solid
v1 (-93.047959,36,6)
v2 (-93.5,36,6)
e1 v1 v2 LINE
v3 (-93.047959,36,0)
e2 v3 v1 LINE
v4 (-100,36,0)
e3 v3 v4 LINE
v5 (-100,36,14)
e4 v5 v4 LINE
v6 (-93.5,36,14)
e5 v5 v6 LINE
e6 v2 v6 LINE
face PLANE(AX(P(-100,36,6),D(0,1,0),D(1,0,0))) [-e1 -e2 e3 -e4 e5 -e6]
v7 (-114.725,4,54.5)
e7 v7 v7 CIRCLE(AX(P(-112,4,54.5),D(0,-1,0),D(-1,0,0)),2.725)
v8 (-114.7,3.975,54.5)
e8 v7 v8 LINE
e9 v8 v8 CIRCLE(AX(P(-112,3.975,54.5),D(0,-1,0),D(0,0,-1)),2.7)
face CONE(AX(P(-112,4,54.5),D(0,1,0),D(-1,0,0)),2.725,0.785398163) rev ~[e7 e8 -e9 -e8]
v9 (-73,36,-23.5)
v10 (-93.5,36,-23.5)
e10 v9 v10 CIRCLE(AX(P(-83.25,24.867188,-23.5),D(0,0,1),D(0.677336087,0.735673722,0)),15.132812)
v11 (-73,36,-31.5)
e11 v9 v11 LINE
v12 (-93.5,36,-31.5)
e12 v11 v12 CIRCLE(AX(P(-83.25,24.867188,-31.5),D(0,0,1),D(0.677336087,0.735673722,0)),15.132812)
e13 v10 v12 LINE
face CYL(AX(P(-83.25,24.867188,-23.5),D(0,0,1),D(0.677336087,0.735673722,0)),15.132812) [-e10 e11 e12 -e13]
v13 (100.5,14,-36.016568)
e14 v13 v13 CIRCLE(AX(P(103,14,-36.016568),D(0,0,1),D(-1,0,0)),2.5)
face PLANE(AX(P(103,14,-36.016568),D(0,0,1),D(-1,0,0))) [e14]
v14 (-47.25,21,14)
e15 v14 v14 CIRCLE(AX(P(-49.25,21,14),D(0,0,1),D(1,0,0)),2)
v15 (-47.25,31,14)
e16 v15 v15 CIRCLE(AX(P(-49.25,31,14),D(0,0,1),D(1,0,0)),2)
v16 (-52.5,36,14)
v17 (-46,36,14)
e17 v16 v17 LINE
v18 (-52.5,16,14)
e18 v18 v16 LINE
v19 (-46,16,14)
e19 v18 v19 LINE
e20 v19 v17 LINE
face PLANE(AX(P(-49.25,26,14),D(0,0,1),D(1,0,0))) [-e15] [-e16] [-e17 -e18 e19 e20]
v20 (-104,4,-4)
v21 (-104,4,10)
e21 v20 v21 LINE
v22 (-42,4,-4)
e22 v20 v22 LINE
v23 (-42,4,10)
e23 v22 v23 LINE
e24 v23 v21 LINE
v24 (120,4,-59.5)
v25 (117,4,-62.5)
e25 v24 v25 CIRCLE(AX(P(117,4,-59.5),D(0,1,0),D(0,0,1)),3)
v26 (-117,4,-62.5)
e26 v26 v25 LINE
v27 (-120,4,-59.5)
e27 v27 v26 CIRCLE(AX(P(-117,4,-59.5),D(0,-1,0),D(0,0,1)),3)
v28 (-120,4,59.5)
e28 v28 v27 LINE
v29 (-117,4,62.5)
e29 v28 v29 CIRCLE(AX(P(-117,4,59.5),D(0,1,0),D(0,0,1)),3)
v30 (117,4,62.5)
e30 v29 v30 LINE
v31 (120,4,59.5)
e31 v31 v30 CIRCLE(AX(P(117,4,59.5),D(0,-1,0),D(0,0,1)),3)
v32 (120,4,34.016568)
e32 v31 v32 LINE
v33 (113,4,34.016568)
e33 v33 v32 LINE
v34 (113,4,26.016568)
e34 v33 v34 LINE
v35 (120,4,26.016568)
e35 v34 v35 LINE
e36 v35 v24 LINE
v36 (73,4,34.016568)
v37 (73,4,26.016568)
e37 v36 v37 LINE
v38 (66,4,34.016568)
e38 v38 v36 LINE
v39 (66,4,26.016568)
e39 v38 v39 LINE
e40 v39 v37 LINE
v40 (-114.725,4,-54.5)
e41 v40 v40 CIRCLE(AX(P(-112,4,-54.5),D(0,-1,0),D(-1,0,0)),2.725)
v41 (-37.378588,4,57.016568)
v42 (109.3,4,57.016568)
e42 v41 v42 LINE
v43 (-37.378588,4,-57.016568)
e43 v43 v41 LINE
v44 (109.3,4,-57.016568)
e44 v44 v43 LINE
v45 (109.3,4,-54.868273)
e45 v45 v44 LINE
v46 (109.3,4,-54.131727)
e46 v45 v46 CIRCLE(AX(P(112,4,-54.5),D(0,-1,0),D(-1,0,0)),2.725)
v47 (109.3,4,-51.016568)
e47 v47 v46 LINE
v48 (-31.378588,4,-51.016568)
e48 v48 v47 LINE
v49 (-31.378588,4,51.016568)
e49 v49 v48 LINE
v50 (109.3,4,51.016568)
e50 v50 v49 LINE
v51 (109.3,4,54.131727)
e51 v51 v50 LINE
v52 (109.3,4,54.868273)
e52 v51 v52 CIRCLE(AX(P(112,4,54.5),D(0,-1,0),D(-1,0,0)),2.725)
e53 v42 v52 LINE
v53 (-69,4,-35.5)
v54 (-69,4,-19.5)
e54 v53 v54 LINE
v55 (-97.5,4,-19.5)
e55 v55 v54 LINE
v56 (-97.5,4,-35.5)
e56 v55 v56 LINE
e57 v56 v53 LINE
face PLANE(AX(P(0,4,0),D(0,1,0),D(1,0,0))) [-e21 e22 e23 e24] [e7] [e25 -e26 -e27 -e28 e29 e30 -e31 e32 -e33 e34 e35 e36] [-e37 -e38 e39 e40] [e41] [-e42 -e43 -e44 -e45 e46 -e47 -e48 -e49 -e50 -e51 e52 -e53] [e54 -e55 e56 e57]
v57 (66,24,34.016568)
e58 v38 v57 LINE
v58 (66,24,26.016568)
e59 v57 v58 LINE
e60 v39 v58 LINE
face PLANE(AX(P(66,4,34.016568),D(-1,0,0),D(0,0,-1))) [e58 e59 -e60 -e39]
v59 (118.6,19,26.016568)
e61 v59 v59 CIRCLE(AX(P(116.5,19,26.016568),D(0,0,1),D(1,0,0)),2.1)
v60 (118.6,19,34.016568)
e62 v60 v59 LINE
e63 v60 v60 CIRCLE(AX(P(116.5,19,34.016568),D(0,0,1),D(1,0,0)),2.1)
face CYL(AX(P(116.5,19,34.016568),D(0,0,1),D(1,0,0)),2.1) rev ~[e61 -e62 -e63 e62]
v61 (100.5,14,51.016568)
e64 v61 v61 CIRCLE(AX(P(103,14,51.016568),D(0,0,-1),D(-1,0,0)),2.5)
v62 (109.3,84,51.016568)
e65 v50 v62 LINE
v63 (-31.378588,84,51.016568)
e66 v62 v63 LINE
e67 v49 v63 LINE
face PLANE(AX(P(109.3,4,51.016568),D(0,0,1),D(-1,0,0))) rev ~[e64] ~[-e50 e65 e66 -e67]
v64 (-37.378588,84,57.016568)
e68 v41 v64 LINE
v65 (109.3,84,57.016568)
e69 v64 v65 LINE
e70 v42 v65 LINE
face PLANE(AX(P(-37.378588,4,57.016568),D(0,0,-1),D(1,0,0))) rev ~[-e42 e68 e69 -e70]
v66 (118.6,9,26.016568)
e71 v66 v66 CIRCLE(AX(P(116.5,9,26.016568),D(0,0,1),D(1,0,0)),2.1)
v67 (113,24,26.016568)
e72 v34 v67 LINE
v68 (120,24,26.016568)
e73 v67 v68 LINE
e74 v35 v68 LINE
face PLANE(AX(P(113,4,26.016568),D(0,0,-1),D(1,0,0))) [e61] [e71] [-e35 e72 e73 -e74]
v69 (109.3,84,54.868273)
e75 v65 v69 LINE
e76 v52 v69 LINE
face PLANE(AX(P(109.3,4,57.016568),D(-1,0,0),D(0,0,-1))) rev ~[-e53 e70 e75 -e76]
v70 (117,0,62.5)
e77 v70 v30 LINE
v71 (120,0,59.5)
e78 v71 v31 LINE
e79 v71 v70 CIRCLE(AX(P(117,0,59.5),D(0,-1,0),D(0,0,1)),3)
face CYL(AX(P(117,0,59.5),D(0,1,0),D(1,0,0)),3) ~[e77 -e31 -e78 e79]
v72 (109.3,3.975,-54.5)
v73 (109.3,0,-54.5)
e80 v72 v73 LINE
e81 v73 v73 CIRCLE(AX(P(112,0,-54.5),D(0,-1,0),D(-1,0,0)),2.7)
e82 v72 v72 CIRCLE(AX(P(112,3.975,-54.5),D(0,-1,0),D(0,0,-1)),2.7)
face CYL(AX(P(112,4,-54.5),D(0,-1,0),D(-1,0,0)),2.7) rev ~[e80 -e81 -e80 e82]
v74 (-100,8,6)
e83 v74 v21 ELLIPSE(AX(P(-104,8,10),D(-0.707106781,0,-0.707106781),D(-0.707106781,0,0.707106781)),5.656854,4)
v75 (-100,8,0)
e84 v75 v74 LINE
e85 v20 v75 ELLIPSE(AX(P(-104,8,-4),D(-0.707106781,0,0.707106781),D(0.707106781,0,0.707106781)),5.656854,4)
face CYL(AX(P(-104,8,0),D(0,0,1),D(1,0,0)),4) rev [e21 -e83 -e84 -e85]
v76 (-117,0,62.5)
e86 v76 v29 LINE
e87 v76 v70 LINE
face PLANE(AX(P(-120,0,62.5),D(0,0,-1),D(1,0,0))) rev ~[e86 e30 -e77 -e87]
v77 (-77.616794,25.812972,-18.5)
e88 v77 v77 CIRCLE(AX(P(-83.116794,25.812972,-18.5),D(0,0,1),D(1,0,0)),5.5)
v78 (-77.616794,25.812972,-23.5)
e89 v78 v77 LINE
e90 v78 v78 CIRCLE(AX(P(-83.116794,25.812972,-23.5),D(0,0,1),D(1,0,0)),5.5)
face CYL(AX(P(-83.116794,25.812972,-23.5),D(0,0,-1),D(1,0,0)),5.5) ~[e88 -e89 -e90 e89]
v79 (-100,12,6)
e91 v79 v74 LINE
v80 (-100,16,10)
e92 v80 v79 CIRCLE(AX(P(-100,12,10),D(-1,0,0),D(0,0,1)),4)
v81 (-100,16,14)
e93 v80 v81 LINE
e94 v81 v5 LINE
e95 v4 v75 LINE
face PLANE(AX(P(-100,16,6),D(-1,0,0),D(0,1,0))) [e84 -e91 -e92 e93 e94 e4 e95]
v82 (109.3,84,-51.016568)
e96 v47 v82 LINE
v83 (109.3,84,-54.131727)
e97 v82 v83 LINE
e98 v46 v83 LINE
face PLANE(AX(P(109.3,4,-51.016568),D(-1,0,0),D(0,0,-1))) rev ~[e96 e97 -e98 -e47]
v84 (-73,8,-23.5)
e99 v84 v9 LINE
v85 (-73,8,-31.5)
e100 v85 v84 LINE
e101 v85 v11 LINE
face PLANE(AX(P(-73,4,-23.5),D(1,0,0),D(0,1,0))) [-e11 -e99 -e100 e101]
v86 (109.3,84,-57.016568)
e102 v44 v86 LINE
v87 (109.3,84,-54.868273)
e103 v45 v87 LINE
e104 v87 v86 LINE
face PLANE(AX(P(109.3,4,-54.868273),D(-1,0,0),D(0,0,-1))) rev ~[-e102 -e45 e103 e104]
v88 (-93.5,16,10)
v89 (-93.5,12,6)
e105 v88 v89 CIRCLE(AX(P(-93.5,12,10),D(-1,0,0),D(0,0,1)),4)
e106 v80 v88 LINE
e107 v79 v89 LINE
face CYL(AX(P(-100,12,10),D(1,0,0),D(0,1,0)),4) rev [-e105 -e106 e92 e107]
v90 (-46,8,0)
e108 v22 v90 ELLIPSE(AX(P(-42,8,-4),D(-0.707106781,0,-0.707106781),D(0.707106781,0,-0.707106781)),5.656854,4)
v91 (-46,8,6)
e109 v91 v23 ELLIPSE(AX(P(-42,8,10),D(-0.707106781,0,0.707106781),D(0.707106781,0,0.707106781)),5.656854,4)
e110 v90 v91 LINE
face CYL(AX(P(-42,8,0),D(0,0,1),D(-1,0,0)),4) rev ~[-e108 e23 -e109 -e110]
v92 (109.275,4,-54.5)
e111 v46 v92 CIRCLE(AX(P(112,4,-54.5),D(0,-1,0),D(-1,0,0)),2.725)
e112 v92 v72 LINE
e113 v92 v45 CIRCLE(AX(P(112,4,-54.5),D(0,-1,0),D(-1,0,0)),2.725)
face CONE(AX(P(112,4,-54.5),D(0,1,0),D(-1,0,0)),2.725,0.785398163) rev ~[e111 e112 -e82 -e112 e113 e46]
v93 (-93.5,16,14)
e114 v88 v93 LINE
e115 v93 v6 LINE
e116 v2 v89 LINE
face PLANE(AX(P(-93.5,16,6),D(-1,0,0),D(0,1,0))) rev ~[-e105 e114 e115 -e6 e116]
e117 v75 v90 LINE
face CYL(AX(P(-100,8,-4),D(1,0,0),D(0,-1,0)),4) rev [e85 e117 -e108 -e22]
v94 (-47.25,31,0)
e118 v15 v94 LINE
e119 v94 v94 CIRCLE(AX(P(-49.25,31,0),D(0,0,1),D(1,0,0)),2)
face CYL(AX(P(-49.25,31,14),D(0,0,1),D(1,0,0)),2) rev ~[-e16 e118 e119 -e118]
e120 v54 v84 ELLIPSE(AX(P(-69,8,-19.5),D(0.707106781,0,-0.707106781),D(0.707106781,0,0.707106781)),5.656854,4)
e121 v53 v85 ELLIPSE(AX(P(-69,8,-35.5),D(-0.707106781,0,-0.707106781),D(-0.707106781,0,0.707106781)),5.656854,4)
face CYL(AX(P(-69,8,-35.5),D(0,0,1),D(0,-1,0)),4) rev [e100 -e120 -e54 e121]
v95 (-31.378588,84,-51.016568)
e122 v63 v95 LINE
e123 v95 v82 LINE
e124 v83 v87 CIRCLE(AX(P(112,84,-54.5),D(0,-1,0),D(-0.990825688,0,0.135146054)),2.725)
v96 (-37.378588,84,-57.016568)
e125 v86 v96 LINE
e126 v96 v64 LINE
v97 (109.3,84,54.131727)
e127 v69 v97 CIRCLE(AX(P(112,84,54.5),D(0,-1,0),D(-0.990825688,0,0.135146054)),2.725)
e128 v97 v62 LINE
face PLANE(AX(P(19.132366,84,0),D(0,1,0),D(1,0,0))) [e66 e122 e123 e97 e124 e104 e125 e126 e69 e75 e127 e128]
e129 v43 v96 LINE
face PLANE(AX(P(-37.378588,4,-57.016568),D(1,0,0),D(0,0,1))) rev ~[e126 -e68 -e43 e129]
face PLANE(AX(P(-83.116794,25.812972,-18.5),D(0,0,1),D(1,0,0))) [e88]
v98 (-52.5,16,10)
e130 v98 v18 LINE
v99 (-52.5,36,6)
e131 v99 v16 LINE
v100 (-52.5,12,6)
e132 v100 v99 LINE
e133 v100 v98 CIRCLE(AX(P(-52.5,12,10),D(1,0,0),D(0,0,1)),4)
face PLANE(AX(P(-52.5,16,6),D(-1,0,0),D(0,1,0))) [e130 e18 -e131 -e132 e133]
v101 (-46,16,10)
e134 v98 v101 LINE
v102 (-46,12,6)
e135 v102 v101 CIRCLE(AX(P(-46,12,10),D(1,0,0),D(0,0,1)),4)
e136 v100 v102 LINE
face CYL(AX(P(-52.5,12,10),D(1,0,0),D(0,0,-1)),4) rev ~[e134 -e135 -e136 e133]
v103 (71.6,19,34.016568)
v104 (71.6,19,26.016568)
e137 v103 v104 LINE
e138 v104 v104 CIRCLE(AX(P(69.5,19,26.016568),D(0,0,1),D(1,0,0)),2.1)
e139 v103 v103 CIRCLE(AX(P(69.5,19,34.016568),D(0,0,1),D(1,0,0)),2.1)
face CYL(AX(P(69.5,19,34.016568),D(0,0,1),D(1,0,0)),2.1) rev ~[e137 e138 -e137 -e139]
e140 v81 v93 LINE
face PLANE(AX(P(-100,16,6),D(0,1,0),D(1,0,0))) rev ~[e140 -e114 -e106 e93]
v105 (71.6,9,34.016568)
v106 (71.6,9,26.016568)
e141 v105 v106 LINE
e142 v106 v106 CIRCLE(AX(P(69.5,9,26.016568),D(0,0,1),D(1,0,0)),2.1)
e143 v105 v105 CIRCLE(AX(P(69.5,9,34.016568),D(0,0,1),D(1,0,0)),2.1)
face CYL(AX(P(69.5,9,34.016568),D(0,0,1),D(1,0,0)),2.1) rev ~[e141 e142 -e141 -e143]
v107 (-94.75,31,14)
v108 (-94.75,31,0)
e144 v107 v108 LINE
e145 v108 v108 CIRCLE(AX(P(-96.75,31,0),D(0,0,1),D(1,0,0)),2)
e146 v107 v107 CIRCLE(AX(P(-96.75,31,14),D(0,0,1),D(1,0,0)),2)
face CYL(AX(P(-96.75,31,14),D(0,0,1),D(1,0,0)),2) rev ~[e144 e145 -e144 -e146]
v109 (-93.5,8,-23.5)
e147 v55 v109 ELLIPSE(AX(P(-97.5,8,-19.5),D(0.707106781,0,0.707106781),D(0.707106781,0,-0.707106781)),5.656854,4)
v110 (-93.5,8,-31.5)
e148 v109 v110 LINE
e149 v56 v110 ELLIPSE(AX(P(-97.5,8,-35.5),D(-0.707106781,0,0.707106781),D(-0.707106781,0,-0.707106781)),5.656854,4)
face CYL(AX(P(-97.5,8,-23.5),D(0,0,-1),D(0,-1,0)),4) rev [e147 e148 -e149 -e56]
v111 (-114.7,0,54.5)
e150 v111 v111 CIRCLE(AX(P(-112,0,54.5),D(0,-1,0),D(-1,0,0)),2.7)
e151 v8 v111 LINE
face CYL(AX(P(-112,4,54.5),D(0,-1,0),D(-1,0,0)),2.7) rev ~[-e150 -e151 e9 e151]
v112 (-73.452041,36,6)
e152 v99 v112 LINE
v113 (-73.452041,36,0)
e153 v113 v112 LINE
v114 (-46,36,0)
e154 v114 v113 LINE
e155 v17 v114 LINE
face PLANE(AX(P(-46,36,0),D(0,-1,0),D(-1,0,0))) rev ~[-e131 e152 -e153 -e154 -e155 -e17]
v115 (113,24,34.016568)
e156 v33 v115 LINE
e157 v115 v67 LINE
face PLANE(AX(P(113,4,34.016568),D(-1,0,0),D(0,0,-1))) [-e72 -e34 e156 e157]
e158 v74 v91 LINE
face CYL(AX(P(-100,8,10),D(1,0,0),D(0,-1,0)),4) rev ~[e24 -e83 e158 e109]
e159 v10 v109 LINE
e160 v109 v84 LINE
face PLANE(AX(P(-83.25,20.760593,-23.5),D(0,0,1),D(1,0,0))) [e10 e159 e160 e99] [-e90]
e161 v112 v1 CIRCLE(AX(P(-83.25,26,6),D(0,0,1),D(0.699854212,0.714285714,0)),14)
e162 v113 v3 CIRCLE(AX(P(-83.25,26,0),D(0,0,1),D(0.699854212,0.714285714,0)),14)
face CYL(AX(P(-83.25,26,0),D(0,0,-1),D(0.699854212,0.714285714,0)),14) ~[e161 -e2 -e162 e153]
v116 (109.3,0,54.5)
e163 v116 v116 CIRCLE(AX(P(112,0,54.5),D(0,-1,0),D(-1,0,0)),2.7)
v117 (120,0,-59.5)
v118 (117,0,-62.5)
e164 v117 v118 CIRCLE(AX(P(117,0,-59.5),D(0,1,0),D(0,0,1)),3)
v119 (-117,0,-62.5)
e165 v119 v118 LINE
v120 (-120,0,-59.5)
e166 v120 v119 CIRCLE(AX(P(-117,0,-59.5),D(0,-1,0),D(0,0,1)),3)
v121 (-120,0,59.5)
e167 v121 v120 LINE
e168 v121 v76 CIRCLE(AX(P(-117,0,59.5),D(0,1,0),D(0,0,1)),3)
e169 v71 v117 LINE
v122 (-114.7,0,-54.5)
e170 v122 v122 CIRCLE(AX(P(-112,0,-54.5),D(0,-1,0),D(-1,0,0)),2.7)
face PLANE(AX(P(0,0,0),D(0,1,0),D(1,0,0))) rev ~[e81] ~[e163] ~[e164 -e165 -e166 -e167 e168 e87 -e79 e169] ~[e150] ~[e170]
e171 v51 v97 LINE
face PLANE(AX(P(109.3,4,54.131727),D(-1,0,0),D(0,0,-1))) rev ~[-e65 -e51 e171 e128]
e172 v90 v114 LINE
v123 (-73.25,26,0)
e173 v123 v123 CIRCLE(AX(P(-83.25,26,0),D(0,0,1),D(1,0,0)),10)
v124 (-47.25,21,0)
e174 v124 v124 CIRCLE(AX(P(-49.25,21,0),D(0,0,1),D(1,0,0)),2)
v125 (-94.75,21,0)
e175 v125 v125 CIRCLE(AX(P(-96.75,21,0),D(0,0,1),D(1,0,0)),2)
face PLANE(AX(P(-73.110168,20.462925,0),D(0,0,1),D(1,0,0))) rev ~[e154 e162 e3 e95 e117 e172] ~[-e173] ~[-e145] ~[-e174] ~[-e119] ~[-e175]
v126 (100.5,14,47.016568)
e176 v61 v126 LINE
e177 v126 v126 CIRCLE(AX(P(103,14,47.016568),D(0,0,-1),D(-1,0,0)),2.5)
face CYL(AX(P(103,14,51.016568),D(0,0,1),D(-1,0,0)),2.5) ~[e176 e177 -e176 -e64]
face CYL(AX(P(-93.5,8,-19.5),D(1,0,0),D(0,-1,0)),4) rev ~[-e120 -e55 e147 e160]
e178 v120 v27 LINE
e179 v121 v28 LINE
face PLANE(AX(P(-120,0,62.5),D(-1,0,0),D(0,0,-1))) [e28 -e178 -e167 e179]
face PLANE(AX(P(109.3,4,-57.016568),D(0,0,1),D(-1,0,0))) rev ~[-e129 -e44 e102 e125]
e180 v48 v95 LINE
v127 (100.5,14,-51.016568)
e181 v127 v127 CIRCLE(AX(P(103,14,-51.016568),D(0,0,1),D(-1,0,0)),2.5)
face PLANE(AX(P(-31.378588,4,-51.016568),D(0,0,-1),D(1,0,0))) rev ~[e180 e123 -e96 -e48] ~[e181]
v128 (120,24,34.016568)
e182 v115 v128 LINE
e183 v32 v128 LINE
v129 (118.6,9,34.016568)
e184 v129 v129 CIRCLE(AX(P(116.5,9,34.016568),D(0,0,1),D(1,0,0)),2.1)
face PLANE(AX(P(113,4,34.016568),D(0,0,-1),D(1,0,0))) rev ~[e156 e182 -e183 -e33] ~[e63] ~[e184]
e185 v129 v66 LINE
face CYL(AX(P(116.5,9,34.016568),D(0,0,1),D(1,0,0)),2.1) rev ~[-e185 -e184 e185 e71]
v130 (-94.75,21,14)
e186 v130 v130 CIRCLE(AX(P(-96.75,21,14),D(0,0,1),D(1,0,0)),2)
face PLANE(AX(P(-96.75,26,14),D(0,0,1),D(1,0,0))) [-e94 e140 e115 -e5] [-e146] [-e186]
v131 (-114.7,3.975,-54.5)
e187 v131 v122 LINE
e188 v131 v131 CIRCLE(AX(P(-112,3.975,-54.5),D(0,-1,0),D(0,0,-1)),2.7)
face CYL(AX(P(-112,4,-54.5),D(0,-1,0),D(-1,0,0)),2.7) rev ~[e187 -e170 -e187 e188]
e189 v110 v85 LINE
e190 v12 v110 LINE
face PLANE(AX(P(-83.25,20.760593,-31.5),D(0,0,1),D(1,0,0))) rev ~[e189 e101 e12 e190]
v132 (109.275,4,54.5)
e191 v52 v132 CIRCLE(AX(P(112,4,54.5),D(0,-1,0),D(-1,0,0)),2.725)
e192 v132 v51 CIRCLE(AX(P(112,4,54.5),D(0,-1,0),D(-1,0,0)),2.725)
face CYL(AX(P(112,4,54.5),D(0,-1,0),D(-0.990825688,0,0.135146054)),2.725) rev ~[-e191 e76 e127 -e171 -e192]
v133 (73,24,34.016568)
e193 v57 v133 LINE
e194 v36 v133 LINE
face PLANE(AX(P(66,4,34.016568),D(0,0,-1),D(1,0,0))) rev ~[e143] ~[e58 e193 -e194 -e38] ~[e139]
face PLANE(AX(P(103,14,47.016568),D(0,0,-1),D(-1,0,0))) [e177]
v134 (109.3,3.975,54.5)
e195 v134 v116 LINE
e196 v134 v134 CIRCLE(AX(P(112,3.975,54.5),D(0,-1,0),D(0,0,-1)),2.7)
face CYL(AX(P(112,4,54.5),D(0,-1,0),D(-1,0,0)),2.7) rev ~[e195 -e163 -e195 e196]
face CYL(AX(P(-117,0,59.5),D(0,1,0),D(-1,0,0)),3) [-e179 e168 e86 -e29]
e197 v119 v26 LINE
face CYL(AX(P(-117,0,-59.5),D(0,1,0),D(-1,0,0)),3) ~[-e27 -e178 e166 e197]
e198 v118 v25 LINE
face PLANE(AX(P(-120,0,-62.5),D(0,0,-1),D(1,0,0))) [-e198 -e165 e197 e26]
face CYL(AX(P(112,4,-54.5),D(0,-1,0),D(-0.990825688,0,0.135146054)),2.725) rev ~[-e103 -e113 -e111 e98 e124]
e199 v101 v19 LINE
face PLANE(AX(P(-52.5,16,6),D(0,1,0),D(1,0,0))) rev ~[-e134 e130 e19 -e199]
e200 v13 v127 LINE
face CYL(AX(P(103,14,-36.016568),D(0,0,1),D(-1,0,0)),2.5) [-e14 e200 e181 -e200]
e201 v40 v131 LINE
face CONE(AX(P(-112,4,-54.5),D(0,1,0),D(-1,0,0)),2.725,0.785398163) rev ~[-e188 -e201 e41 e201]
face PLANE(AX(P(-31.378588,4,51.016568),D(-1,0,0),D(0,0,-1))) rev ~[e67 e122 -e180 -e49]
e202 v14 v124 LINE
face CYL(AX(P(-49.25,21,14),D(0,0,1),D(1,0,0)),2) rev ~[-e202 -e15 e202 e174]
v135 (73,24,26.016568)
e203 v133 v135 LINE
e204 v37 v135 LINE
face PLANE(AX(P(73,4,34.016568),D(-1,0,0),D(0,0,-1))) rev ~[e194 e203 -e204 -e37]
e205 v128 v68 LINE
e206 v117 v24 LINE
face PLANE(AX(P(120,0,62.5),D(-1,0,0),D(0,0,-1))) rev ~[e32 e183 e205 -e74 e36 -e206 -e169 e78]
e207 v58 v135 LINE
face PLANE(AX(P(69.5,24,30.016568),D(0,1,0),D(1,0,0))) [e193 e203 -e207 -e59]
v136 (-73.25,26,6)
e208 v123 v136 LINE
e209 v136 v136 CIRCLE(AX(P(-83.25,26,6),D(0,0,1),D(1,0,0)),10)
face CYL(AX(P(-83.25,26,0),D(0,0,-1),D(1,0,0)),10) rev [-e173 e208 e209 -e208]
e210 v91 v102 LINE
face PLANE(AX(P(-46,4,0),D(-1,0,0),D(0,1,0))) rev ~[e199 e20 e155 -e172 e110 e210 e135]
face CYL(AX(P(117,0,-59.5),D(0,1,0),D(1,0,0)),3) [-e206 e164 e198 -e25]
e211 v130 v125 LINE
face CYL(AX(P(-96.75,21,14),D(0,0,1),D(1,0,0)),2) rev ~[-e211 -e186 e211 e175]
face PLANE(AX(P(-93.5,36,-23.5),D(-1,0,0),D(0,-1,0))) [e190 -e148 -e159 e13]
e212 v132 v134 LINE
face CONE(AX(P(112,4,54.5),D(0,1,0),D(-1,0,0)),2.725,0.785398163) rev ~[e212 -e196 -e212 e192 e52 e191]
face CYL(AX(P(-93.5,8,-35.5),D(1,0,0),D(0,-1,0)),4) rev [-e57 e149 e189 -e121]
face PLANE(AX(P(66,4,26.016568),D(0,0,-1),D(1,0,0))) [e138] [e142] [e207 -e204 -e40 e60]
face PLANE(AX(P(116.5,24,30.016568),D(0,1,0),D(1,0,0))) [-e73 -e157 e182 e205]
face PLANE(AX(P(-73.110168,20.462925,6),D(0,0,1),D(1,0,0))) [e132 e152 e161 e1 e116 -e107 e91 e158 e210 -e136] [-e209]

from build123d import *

# Parameters (mm, degrees)
SKETCH_1_W                        = 240
SKETCH_1_H                        = 125
EXTRUDE_1_DEPTH                   = 4
HOLE_WIZARD_5_4_5_4_1_D           = 5.4
HOLE_WIZARD_5_4_5_4_1_CSINK_D     = 5.45
HOLE_WIZARD_5_4_5_4_1_CSINK_ANGLE = 90
FILLET_1_R                        = 3
SKETCH_4_R                        = 10
EXTRUDE_2_DEPTH                   = 6
SKETCH_6_W                        = 6.5
SKETCH_6_H                        = 20
EXTRUDE_3_DEPTH                   = 8
SKETCH_7_R                        = 2
CUT_EXTRUDE_1_DEPTH               = 14
FILLET_2_R                        = 4
FILLET_3_R                        = 4
FILLET_4_R                        = 4
EXTRUDE_START                     = 23.5
EXTRUDE_4_DEPTH                   = 8
SKETCH_9_R                        = 5.5
EXTRUDE_5_DEPTH                   = 5
FILLET_5_R                        = 4
FILLET_6_R                        = 4
SKETCH_12_W                       = 7
SKETCH_12_H                       = 8
EXTRUDE_6_DEPTH                   = 20
CUT_EXTRUDE_2_REACH               = 161.108
SKETCH_13_R                       = 2.1
EXTRUDE_7_DEPTH                   = 80
SKETCH_15_R                       = 2.5
EXTRUDE_8_DEPTH                   = 4
EXTRUDE_START_2                   = 15
SKETCH_17_R                       = 2.5
EXTRUDE_9_DEPTH                   = 15


with BuildPart() as part:
    # 草图1 → 凸台-拉伸1 (new body)
    with BuildSketch(Plane(origin=(0, 0, 0), x_dir=(1, 0, 0), z_dir=(0, 1, 0))):
        Rectangle(SKETCH_1_W, SKETCH_1_H)
    extrude(amount=EXTRUDE_1_DEPTH)

    # Ø5.4 (5.4) 直径孔1 (through all)
    with Locations(Plane(origin=(0, 4, 0), x_dir=(1, 0, 0), z_dir=(0, 1, 0))):
        with Locations((112, 54.5), (-112, 54.5), (-112, -54.5), (112, -54.5)):
            CounterSinkHole(HOLE_WIZARD_5_4_5_4_1_D / 2, HOLE_WIZARD_5_4_5_4_1_CSINK_D / 2, counter_sink_angle=HOLE_WIZARD_5_4_5_4_1_CSINK_ANGLE)

    # 圆角1
    fillet_1_edges = [part.edges().sort_by_distance(p)[0] for p in [
        (120, 2, 62.5),
        (-120, 2, 62.5),
        (-120, 2, -62.5),
        (120, 2, -62.5),
    ]]
    fillet(fillet_1_edges, radius=FILLET_1_R)

    # 草图4 → 凸台-拉伸2 (add)
    with BuildSketch(Plane.XY):
        with BuildLine():
            Line((-100, 4), (-46, 4))
            Line((-46, 4), (-46, 36))
            Line((-46, 36), (-73.452041029, 36))
            ThreePointArc((-73.452041029, 36), (-83.25, 40), (-93.047958971, 36))
            Line((-93.047958971, 36), (-100, 36))
            Line((-100, 36), (-100, 4))
        make_face()
        with Locations((-83.25, 26)):
            Circle(SKETCH_4_R, mode=Mode.SUBTRACT)
    extrude(amount=EXTRUDE_2_DEPTH)

    # 草图6 → 凸台-拉伸3 (add)
    with BuildSketch(Plane.XY.offset(6)):
        with Locations((-96.75, 26)):
            Rectangle(SKETCH_6_W, SKETCH_6_H)
        with Locations((-49.25, 26)):
            Rectangle(SKETCH_6_W, SKETCH_6_H)
    extrude(amount=EXTRUDE_3_DEPTH)

    # 草图7 → 切除-拉伸1 (cut)
    with BuildSketch(Plane.XY.offset(14)):
        with Locations((-96.75, 31)):
            Circle(SKETCH_7_R)
        with Locations((-96.75, 21)):
            Circle(SKETCH_7_R)
        with Locations((-49.25, 21)):
            Circle(SKETCH_7_R)
        with Locations((-49.25, 31)):
            Circle(SKETCH_7_R)
    extrude(amount=-CUT_EXTRUDE_1_DEPTH, mode=Mode.SUBTRACT)

    # 圆角2
    fillet_2_edges = [part.edges().sort_by_distance(p)[0] for p in [
        (-49.25, 16, 6),
        (-96.75, 16, 6),
    ]]
    fillet(fillet_2_edges, radius=FILLET_2_R)

    # 圆角3
    fillet_3_edges = [part.edges().sort_by_distance(p)[0] for p in [
        (-73, 4, 6),
    ]]
    fillet(fillet_3_edges, radius=FILLET_3_R)

    # 圆角4
    fillet_4_edges = [part.edges().sort_by_distance(p)[0] for p in [
        (-73, 4, 0),
        (-100, 4, 5),
        (-46, 4, 5),
    ]]
    fillet(fillet_4_edges, radius=FILLET_4_R)

    # 草图8 → 凸台-拉伸4 (add)
    with BuildSketch(Plane(origin=(0, 0, 0), x_dir=(-1, 0, 0), z_dir=(0, 0, -1)).offset(EXTRUDE_START)):
        with BuildLine():
            Line((73, 8), (73, 36))
            ThreePointArc((73, 36), (83.25, 40), (93.5, 36))
            Line((93.5, 36), (93.5, 8))
            Line((93.5, 8), (93.5, 4))
            Line((93.5, 4), (73, 4))
            Line((73, 4), (73, 8))
        make_face()
    extrude(amount=EXTRUDE_4_DEPTH)

    # 草图9 → 凸台-拉伸5 (add)
    with BuildSketch(Plane.XY.offset(-23.5)):
        with Locations((-83.116793534, 25.812971514)):
            Circle(SKETCH_9_R)
    extrude(amount=EXTRUDE_5_DEPTH)

    # 圆角5
    fillet_5_edges = [part.edges().sort_by_distance(p)[0] for p in [
        (-83.25, 4, -31.5),
    ]]
    fillet(fillet_5_edges, radius=FILLET_5_R)

    # 圆角6
    fillet_6_edges = [part.edges().sort_by_distance(p)[0] for p in [
        (-73, 4, -29.5),
        (-83.25, 4, -23.5),
        (-93.5, 4, -29.5),
    ]]
    fillet(fillet_6_edges, radius=FILLET_6_R)

    # 草图12 → 凸台-拉伸6 (add)
    with BuildSketch(Plane(origin=(0, 4, 0), x_dir=(1, 0, 0), z_dir=(0, 1, 0))):
        with Locations((116.5, -30.016568117)):
            Rectangle(SKETCH_12_W, SKETCH_12_H)
        with Locations((69.5, -30.016568117)):
            Rectangle(SKETCH_12_W, SKETCH_12_H)
    extrude(amount=EXTRUDE_6_DEPTH)

    # 草图13 → 切除-拉伸2 (cut, up to next)
    with BuildSketch(Plane.XY.offset(34.016568117), mode=Mode.PRIVATE) as cut_extrude_2_sk1:
        with Locations((69.5, 19)):
            Circle(SKETCH_13_R)
    cut_extrude_2_tool1 = extrude(cut_extrude_2_sk1.sketch, amount=-CUT_EXTRUDE_2_REACH, mode=Mode.PRIVATE) & part.part
    # 草图13 → 切除-拉伸2 (cut, up to next)
    with BuildSketch(Plane.XY.offset(34.016568117), mode=Mode.PRIVATE) as cut_extrude_2_sk2:
        with Locations((69.5, 9)):
            Circle(SKETCH_13_R)
    cut_extrude_2_tool2 = extrude(cut_extrude_2_sk2.sketch, amount=-CUT_EXTRUDE_2_REACH, mode=Mode.PRIVATE) & part.part
    # 草图13 → 切除-拉伸2 (cut, up to next)
    with BuildSketch(Plane.XY.offset(34.016568117), mode=Mode.PRIVATE) as cut_extrude_2_sk3:
        with Locations((116.5, 9)):
            Circle(SKETCH_13_R)
    cut_extrude_2_tool3 = extrude(cut_extrude_2_sk3.sketch, amount=-CUT_EXTRUDE_2_REACH, mode=Mode.PRIVATE) & part.part
    # 草图13 → 切除-拉伸2 (cut, up to next)
    with BuildSketch(Plane.XY.offset(34.016568117), mode=Mode.PRIVATE) as cut_extrude_2_sk4:
        with Locations((116.5, 19)):
            Circle(SKETCH_13_R)
    cut_extrude_2_tool4 = extrude(cut_extrude_2_sk4.sketch, amount=-CUT_EXTRUDE_2_REACH, mode=Mode.PRIVATE) & part.part
    add(cut_extrude_2_tool1.solids().sort_by_distance((69.5, 19, 34.016568))[0], mode=Mode.SUBTRACT)
    add(cut_extrude_2_tool2.solids().sort_by_distance((69.5, 9, 34.016568))[0], mode=Mode.SUBTRACT)
    add(cut_extrude_2_tool3.solids().sort_by_distance((116.5, 9, 34.016568))[0], mode=Mode.SUBTRACT)
    add(cut_extrude_2_tool4.solids().sort_by_distance((116.5, 19, 34.016568))[0], mode=Mode.SUBTRACT)

    # 草图14 → 凸台-拉伸7 (add)
    with BuildSketch(Plane(origin=(0, 4, 0), x_dir=(1, 0, 0), z_dir=(0, 1, 0))):
        with BuildLine():
            Line((109.3, -51.016568117), (96.7, -51.016568117))
            Line((96.7, -51.016568117), (-31.378587674, -51.016568117))
            Line((-31.378587674, -51.016568117), (-31.378587674, 51.016568117))
            Line((-31.378587674, 51.016568117), (95.460915007, 51.016568117))
            Line((95.460915007, 51.016568117), (96.7, 51.016568117))
            Line((96.7, 51.016568117), (109.3, 51.016568117))
            Line((109.3, 51.016568117), (109.3, 54.131727003))
            ThreePointArc((109.3, 54.131727003), (109.275, 54.5), (109.3, 54.868272997))
            Line((109.3, 54.868272997), (109.3, 57.016568117))
            Line((109.3, 57.016568117), (-37.378587674, 57.016568117))
            Line((-37.378587674, 57.016568117), (-37.378587674, -50.764100258))
            Line((-37.378587674, -50.764100258), (-37.378587674, -57.016568117))
            Line((-37.378587674, -57.016568117), (109.3, -57.016568117))
            Line((109.3, -57.016568117), (109.3, -54.868272997))
            ThreePointArc((109.3, -54.868272997), (109.275, -54.5), (109.3, -54.131727003))
            Line((109.3, -54.131727003), (109.3, -51.016568117))
        make_face()
    extrude(amount=EXTRUDE_7_DEPTH)

    # 草图15 → 凸台-拉伸8 (add)
    with BuildSketch(Plane(origin=(0, 0, 51.016568117), x_dir=(-1, 0, 0), z_dir=(0, 0, -1))):
        with Locations((-103, 14)):
            Circle(SKETCH_15_R)
    extrude(amount=EXTRUDE_8_DEPTH)

    # 草图17 → 凸台-拉伸9 (add)
    with BuildSketch(Plane.XY.offset(-51.016568117).offset(EXTRUDE_START_2)):
        with Locations(Location((103, 14, 0), (0, 0, 180))):
            Circle(SKETCH_17_R)
    extrude(amount=-EXTRUDE_9_DEPTH)


solid = part.part
